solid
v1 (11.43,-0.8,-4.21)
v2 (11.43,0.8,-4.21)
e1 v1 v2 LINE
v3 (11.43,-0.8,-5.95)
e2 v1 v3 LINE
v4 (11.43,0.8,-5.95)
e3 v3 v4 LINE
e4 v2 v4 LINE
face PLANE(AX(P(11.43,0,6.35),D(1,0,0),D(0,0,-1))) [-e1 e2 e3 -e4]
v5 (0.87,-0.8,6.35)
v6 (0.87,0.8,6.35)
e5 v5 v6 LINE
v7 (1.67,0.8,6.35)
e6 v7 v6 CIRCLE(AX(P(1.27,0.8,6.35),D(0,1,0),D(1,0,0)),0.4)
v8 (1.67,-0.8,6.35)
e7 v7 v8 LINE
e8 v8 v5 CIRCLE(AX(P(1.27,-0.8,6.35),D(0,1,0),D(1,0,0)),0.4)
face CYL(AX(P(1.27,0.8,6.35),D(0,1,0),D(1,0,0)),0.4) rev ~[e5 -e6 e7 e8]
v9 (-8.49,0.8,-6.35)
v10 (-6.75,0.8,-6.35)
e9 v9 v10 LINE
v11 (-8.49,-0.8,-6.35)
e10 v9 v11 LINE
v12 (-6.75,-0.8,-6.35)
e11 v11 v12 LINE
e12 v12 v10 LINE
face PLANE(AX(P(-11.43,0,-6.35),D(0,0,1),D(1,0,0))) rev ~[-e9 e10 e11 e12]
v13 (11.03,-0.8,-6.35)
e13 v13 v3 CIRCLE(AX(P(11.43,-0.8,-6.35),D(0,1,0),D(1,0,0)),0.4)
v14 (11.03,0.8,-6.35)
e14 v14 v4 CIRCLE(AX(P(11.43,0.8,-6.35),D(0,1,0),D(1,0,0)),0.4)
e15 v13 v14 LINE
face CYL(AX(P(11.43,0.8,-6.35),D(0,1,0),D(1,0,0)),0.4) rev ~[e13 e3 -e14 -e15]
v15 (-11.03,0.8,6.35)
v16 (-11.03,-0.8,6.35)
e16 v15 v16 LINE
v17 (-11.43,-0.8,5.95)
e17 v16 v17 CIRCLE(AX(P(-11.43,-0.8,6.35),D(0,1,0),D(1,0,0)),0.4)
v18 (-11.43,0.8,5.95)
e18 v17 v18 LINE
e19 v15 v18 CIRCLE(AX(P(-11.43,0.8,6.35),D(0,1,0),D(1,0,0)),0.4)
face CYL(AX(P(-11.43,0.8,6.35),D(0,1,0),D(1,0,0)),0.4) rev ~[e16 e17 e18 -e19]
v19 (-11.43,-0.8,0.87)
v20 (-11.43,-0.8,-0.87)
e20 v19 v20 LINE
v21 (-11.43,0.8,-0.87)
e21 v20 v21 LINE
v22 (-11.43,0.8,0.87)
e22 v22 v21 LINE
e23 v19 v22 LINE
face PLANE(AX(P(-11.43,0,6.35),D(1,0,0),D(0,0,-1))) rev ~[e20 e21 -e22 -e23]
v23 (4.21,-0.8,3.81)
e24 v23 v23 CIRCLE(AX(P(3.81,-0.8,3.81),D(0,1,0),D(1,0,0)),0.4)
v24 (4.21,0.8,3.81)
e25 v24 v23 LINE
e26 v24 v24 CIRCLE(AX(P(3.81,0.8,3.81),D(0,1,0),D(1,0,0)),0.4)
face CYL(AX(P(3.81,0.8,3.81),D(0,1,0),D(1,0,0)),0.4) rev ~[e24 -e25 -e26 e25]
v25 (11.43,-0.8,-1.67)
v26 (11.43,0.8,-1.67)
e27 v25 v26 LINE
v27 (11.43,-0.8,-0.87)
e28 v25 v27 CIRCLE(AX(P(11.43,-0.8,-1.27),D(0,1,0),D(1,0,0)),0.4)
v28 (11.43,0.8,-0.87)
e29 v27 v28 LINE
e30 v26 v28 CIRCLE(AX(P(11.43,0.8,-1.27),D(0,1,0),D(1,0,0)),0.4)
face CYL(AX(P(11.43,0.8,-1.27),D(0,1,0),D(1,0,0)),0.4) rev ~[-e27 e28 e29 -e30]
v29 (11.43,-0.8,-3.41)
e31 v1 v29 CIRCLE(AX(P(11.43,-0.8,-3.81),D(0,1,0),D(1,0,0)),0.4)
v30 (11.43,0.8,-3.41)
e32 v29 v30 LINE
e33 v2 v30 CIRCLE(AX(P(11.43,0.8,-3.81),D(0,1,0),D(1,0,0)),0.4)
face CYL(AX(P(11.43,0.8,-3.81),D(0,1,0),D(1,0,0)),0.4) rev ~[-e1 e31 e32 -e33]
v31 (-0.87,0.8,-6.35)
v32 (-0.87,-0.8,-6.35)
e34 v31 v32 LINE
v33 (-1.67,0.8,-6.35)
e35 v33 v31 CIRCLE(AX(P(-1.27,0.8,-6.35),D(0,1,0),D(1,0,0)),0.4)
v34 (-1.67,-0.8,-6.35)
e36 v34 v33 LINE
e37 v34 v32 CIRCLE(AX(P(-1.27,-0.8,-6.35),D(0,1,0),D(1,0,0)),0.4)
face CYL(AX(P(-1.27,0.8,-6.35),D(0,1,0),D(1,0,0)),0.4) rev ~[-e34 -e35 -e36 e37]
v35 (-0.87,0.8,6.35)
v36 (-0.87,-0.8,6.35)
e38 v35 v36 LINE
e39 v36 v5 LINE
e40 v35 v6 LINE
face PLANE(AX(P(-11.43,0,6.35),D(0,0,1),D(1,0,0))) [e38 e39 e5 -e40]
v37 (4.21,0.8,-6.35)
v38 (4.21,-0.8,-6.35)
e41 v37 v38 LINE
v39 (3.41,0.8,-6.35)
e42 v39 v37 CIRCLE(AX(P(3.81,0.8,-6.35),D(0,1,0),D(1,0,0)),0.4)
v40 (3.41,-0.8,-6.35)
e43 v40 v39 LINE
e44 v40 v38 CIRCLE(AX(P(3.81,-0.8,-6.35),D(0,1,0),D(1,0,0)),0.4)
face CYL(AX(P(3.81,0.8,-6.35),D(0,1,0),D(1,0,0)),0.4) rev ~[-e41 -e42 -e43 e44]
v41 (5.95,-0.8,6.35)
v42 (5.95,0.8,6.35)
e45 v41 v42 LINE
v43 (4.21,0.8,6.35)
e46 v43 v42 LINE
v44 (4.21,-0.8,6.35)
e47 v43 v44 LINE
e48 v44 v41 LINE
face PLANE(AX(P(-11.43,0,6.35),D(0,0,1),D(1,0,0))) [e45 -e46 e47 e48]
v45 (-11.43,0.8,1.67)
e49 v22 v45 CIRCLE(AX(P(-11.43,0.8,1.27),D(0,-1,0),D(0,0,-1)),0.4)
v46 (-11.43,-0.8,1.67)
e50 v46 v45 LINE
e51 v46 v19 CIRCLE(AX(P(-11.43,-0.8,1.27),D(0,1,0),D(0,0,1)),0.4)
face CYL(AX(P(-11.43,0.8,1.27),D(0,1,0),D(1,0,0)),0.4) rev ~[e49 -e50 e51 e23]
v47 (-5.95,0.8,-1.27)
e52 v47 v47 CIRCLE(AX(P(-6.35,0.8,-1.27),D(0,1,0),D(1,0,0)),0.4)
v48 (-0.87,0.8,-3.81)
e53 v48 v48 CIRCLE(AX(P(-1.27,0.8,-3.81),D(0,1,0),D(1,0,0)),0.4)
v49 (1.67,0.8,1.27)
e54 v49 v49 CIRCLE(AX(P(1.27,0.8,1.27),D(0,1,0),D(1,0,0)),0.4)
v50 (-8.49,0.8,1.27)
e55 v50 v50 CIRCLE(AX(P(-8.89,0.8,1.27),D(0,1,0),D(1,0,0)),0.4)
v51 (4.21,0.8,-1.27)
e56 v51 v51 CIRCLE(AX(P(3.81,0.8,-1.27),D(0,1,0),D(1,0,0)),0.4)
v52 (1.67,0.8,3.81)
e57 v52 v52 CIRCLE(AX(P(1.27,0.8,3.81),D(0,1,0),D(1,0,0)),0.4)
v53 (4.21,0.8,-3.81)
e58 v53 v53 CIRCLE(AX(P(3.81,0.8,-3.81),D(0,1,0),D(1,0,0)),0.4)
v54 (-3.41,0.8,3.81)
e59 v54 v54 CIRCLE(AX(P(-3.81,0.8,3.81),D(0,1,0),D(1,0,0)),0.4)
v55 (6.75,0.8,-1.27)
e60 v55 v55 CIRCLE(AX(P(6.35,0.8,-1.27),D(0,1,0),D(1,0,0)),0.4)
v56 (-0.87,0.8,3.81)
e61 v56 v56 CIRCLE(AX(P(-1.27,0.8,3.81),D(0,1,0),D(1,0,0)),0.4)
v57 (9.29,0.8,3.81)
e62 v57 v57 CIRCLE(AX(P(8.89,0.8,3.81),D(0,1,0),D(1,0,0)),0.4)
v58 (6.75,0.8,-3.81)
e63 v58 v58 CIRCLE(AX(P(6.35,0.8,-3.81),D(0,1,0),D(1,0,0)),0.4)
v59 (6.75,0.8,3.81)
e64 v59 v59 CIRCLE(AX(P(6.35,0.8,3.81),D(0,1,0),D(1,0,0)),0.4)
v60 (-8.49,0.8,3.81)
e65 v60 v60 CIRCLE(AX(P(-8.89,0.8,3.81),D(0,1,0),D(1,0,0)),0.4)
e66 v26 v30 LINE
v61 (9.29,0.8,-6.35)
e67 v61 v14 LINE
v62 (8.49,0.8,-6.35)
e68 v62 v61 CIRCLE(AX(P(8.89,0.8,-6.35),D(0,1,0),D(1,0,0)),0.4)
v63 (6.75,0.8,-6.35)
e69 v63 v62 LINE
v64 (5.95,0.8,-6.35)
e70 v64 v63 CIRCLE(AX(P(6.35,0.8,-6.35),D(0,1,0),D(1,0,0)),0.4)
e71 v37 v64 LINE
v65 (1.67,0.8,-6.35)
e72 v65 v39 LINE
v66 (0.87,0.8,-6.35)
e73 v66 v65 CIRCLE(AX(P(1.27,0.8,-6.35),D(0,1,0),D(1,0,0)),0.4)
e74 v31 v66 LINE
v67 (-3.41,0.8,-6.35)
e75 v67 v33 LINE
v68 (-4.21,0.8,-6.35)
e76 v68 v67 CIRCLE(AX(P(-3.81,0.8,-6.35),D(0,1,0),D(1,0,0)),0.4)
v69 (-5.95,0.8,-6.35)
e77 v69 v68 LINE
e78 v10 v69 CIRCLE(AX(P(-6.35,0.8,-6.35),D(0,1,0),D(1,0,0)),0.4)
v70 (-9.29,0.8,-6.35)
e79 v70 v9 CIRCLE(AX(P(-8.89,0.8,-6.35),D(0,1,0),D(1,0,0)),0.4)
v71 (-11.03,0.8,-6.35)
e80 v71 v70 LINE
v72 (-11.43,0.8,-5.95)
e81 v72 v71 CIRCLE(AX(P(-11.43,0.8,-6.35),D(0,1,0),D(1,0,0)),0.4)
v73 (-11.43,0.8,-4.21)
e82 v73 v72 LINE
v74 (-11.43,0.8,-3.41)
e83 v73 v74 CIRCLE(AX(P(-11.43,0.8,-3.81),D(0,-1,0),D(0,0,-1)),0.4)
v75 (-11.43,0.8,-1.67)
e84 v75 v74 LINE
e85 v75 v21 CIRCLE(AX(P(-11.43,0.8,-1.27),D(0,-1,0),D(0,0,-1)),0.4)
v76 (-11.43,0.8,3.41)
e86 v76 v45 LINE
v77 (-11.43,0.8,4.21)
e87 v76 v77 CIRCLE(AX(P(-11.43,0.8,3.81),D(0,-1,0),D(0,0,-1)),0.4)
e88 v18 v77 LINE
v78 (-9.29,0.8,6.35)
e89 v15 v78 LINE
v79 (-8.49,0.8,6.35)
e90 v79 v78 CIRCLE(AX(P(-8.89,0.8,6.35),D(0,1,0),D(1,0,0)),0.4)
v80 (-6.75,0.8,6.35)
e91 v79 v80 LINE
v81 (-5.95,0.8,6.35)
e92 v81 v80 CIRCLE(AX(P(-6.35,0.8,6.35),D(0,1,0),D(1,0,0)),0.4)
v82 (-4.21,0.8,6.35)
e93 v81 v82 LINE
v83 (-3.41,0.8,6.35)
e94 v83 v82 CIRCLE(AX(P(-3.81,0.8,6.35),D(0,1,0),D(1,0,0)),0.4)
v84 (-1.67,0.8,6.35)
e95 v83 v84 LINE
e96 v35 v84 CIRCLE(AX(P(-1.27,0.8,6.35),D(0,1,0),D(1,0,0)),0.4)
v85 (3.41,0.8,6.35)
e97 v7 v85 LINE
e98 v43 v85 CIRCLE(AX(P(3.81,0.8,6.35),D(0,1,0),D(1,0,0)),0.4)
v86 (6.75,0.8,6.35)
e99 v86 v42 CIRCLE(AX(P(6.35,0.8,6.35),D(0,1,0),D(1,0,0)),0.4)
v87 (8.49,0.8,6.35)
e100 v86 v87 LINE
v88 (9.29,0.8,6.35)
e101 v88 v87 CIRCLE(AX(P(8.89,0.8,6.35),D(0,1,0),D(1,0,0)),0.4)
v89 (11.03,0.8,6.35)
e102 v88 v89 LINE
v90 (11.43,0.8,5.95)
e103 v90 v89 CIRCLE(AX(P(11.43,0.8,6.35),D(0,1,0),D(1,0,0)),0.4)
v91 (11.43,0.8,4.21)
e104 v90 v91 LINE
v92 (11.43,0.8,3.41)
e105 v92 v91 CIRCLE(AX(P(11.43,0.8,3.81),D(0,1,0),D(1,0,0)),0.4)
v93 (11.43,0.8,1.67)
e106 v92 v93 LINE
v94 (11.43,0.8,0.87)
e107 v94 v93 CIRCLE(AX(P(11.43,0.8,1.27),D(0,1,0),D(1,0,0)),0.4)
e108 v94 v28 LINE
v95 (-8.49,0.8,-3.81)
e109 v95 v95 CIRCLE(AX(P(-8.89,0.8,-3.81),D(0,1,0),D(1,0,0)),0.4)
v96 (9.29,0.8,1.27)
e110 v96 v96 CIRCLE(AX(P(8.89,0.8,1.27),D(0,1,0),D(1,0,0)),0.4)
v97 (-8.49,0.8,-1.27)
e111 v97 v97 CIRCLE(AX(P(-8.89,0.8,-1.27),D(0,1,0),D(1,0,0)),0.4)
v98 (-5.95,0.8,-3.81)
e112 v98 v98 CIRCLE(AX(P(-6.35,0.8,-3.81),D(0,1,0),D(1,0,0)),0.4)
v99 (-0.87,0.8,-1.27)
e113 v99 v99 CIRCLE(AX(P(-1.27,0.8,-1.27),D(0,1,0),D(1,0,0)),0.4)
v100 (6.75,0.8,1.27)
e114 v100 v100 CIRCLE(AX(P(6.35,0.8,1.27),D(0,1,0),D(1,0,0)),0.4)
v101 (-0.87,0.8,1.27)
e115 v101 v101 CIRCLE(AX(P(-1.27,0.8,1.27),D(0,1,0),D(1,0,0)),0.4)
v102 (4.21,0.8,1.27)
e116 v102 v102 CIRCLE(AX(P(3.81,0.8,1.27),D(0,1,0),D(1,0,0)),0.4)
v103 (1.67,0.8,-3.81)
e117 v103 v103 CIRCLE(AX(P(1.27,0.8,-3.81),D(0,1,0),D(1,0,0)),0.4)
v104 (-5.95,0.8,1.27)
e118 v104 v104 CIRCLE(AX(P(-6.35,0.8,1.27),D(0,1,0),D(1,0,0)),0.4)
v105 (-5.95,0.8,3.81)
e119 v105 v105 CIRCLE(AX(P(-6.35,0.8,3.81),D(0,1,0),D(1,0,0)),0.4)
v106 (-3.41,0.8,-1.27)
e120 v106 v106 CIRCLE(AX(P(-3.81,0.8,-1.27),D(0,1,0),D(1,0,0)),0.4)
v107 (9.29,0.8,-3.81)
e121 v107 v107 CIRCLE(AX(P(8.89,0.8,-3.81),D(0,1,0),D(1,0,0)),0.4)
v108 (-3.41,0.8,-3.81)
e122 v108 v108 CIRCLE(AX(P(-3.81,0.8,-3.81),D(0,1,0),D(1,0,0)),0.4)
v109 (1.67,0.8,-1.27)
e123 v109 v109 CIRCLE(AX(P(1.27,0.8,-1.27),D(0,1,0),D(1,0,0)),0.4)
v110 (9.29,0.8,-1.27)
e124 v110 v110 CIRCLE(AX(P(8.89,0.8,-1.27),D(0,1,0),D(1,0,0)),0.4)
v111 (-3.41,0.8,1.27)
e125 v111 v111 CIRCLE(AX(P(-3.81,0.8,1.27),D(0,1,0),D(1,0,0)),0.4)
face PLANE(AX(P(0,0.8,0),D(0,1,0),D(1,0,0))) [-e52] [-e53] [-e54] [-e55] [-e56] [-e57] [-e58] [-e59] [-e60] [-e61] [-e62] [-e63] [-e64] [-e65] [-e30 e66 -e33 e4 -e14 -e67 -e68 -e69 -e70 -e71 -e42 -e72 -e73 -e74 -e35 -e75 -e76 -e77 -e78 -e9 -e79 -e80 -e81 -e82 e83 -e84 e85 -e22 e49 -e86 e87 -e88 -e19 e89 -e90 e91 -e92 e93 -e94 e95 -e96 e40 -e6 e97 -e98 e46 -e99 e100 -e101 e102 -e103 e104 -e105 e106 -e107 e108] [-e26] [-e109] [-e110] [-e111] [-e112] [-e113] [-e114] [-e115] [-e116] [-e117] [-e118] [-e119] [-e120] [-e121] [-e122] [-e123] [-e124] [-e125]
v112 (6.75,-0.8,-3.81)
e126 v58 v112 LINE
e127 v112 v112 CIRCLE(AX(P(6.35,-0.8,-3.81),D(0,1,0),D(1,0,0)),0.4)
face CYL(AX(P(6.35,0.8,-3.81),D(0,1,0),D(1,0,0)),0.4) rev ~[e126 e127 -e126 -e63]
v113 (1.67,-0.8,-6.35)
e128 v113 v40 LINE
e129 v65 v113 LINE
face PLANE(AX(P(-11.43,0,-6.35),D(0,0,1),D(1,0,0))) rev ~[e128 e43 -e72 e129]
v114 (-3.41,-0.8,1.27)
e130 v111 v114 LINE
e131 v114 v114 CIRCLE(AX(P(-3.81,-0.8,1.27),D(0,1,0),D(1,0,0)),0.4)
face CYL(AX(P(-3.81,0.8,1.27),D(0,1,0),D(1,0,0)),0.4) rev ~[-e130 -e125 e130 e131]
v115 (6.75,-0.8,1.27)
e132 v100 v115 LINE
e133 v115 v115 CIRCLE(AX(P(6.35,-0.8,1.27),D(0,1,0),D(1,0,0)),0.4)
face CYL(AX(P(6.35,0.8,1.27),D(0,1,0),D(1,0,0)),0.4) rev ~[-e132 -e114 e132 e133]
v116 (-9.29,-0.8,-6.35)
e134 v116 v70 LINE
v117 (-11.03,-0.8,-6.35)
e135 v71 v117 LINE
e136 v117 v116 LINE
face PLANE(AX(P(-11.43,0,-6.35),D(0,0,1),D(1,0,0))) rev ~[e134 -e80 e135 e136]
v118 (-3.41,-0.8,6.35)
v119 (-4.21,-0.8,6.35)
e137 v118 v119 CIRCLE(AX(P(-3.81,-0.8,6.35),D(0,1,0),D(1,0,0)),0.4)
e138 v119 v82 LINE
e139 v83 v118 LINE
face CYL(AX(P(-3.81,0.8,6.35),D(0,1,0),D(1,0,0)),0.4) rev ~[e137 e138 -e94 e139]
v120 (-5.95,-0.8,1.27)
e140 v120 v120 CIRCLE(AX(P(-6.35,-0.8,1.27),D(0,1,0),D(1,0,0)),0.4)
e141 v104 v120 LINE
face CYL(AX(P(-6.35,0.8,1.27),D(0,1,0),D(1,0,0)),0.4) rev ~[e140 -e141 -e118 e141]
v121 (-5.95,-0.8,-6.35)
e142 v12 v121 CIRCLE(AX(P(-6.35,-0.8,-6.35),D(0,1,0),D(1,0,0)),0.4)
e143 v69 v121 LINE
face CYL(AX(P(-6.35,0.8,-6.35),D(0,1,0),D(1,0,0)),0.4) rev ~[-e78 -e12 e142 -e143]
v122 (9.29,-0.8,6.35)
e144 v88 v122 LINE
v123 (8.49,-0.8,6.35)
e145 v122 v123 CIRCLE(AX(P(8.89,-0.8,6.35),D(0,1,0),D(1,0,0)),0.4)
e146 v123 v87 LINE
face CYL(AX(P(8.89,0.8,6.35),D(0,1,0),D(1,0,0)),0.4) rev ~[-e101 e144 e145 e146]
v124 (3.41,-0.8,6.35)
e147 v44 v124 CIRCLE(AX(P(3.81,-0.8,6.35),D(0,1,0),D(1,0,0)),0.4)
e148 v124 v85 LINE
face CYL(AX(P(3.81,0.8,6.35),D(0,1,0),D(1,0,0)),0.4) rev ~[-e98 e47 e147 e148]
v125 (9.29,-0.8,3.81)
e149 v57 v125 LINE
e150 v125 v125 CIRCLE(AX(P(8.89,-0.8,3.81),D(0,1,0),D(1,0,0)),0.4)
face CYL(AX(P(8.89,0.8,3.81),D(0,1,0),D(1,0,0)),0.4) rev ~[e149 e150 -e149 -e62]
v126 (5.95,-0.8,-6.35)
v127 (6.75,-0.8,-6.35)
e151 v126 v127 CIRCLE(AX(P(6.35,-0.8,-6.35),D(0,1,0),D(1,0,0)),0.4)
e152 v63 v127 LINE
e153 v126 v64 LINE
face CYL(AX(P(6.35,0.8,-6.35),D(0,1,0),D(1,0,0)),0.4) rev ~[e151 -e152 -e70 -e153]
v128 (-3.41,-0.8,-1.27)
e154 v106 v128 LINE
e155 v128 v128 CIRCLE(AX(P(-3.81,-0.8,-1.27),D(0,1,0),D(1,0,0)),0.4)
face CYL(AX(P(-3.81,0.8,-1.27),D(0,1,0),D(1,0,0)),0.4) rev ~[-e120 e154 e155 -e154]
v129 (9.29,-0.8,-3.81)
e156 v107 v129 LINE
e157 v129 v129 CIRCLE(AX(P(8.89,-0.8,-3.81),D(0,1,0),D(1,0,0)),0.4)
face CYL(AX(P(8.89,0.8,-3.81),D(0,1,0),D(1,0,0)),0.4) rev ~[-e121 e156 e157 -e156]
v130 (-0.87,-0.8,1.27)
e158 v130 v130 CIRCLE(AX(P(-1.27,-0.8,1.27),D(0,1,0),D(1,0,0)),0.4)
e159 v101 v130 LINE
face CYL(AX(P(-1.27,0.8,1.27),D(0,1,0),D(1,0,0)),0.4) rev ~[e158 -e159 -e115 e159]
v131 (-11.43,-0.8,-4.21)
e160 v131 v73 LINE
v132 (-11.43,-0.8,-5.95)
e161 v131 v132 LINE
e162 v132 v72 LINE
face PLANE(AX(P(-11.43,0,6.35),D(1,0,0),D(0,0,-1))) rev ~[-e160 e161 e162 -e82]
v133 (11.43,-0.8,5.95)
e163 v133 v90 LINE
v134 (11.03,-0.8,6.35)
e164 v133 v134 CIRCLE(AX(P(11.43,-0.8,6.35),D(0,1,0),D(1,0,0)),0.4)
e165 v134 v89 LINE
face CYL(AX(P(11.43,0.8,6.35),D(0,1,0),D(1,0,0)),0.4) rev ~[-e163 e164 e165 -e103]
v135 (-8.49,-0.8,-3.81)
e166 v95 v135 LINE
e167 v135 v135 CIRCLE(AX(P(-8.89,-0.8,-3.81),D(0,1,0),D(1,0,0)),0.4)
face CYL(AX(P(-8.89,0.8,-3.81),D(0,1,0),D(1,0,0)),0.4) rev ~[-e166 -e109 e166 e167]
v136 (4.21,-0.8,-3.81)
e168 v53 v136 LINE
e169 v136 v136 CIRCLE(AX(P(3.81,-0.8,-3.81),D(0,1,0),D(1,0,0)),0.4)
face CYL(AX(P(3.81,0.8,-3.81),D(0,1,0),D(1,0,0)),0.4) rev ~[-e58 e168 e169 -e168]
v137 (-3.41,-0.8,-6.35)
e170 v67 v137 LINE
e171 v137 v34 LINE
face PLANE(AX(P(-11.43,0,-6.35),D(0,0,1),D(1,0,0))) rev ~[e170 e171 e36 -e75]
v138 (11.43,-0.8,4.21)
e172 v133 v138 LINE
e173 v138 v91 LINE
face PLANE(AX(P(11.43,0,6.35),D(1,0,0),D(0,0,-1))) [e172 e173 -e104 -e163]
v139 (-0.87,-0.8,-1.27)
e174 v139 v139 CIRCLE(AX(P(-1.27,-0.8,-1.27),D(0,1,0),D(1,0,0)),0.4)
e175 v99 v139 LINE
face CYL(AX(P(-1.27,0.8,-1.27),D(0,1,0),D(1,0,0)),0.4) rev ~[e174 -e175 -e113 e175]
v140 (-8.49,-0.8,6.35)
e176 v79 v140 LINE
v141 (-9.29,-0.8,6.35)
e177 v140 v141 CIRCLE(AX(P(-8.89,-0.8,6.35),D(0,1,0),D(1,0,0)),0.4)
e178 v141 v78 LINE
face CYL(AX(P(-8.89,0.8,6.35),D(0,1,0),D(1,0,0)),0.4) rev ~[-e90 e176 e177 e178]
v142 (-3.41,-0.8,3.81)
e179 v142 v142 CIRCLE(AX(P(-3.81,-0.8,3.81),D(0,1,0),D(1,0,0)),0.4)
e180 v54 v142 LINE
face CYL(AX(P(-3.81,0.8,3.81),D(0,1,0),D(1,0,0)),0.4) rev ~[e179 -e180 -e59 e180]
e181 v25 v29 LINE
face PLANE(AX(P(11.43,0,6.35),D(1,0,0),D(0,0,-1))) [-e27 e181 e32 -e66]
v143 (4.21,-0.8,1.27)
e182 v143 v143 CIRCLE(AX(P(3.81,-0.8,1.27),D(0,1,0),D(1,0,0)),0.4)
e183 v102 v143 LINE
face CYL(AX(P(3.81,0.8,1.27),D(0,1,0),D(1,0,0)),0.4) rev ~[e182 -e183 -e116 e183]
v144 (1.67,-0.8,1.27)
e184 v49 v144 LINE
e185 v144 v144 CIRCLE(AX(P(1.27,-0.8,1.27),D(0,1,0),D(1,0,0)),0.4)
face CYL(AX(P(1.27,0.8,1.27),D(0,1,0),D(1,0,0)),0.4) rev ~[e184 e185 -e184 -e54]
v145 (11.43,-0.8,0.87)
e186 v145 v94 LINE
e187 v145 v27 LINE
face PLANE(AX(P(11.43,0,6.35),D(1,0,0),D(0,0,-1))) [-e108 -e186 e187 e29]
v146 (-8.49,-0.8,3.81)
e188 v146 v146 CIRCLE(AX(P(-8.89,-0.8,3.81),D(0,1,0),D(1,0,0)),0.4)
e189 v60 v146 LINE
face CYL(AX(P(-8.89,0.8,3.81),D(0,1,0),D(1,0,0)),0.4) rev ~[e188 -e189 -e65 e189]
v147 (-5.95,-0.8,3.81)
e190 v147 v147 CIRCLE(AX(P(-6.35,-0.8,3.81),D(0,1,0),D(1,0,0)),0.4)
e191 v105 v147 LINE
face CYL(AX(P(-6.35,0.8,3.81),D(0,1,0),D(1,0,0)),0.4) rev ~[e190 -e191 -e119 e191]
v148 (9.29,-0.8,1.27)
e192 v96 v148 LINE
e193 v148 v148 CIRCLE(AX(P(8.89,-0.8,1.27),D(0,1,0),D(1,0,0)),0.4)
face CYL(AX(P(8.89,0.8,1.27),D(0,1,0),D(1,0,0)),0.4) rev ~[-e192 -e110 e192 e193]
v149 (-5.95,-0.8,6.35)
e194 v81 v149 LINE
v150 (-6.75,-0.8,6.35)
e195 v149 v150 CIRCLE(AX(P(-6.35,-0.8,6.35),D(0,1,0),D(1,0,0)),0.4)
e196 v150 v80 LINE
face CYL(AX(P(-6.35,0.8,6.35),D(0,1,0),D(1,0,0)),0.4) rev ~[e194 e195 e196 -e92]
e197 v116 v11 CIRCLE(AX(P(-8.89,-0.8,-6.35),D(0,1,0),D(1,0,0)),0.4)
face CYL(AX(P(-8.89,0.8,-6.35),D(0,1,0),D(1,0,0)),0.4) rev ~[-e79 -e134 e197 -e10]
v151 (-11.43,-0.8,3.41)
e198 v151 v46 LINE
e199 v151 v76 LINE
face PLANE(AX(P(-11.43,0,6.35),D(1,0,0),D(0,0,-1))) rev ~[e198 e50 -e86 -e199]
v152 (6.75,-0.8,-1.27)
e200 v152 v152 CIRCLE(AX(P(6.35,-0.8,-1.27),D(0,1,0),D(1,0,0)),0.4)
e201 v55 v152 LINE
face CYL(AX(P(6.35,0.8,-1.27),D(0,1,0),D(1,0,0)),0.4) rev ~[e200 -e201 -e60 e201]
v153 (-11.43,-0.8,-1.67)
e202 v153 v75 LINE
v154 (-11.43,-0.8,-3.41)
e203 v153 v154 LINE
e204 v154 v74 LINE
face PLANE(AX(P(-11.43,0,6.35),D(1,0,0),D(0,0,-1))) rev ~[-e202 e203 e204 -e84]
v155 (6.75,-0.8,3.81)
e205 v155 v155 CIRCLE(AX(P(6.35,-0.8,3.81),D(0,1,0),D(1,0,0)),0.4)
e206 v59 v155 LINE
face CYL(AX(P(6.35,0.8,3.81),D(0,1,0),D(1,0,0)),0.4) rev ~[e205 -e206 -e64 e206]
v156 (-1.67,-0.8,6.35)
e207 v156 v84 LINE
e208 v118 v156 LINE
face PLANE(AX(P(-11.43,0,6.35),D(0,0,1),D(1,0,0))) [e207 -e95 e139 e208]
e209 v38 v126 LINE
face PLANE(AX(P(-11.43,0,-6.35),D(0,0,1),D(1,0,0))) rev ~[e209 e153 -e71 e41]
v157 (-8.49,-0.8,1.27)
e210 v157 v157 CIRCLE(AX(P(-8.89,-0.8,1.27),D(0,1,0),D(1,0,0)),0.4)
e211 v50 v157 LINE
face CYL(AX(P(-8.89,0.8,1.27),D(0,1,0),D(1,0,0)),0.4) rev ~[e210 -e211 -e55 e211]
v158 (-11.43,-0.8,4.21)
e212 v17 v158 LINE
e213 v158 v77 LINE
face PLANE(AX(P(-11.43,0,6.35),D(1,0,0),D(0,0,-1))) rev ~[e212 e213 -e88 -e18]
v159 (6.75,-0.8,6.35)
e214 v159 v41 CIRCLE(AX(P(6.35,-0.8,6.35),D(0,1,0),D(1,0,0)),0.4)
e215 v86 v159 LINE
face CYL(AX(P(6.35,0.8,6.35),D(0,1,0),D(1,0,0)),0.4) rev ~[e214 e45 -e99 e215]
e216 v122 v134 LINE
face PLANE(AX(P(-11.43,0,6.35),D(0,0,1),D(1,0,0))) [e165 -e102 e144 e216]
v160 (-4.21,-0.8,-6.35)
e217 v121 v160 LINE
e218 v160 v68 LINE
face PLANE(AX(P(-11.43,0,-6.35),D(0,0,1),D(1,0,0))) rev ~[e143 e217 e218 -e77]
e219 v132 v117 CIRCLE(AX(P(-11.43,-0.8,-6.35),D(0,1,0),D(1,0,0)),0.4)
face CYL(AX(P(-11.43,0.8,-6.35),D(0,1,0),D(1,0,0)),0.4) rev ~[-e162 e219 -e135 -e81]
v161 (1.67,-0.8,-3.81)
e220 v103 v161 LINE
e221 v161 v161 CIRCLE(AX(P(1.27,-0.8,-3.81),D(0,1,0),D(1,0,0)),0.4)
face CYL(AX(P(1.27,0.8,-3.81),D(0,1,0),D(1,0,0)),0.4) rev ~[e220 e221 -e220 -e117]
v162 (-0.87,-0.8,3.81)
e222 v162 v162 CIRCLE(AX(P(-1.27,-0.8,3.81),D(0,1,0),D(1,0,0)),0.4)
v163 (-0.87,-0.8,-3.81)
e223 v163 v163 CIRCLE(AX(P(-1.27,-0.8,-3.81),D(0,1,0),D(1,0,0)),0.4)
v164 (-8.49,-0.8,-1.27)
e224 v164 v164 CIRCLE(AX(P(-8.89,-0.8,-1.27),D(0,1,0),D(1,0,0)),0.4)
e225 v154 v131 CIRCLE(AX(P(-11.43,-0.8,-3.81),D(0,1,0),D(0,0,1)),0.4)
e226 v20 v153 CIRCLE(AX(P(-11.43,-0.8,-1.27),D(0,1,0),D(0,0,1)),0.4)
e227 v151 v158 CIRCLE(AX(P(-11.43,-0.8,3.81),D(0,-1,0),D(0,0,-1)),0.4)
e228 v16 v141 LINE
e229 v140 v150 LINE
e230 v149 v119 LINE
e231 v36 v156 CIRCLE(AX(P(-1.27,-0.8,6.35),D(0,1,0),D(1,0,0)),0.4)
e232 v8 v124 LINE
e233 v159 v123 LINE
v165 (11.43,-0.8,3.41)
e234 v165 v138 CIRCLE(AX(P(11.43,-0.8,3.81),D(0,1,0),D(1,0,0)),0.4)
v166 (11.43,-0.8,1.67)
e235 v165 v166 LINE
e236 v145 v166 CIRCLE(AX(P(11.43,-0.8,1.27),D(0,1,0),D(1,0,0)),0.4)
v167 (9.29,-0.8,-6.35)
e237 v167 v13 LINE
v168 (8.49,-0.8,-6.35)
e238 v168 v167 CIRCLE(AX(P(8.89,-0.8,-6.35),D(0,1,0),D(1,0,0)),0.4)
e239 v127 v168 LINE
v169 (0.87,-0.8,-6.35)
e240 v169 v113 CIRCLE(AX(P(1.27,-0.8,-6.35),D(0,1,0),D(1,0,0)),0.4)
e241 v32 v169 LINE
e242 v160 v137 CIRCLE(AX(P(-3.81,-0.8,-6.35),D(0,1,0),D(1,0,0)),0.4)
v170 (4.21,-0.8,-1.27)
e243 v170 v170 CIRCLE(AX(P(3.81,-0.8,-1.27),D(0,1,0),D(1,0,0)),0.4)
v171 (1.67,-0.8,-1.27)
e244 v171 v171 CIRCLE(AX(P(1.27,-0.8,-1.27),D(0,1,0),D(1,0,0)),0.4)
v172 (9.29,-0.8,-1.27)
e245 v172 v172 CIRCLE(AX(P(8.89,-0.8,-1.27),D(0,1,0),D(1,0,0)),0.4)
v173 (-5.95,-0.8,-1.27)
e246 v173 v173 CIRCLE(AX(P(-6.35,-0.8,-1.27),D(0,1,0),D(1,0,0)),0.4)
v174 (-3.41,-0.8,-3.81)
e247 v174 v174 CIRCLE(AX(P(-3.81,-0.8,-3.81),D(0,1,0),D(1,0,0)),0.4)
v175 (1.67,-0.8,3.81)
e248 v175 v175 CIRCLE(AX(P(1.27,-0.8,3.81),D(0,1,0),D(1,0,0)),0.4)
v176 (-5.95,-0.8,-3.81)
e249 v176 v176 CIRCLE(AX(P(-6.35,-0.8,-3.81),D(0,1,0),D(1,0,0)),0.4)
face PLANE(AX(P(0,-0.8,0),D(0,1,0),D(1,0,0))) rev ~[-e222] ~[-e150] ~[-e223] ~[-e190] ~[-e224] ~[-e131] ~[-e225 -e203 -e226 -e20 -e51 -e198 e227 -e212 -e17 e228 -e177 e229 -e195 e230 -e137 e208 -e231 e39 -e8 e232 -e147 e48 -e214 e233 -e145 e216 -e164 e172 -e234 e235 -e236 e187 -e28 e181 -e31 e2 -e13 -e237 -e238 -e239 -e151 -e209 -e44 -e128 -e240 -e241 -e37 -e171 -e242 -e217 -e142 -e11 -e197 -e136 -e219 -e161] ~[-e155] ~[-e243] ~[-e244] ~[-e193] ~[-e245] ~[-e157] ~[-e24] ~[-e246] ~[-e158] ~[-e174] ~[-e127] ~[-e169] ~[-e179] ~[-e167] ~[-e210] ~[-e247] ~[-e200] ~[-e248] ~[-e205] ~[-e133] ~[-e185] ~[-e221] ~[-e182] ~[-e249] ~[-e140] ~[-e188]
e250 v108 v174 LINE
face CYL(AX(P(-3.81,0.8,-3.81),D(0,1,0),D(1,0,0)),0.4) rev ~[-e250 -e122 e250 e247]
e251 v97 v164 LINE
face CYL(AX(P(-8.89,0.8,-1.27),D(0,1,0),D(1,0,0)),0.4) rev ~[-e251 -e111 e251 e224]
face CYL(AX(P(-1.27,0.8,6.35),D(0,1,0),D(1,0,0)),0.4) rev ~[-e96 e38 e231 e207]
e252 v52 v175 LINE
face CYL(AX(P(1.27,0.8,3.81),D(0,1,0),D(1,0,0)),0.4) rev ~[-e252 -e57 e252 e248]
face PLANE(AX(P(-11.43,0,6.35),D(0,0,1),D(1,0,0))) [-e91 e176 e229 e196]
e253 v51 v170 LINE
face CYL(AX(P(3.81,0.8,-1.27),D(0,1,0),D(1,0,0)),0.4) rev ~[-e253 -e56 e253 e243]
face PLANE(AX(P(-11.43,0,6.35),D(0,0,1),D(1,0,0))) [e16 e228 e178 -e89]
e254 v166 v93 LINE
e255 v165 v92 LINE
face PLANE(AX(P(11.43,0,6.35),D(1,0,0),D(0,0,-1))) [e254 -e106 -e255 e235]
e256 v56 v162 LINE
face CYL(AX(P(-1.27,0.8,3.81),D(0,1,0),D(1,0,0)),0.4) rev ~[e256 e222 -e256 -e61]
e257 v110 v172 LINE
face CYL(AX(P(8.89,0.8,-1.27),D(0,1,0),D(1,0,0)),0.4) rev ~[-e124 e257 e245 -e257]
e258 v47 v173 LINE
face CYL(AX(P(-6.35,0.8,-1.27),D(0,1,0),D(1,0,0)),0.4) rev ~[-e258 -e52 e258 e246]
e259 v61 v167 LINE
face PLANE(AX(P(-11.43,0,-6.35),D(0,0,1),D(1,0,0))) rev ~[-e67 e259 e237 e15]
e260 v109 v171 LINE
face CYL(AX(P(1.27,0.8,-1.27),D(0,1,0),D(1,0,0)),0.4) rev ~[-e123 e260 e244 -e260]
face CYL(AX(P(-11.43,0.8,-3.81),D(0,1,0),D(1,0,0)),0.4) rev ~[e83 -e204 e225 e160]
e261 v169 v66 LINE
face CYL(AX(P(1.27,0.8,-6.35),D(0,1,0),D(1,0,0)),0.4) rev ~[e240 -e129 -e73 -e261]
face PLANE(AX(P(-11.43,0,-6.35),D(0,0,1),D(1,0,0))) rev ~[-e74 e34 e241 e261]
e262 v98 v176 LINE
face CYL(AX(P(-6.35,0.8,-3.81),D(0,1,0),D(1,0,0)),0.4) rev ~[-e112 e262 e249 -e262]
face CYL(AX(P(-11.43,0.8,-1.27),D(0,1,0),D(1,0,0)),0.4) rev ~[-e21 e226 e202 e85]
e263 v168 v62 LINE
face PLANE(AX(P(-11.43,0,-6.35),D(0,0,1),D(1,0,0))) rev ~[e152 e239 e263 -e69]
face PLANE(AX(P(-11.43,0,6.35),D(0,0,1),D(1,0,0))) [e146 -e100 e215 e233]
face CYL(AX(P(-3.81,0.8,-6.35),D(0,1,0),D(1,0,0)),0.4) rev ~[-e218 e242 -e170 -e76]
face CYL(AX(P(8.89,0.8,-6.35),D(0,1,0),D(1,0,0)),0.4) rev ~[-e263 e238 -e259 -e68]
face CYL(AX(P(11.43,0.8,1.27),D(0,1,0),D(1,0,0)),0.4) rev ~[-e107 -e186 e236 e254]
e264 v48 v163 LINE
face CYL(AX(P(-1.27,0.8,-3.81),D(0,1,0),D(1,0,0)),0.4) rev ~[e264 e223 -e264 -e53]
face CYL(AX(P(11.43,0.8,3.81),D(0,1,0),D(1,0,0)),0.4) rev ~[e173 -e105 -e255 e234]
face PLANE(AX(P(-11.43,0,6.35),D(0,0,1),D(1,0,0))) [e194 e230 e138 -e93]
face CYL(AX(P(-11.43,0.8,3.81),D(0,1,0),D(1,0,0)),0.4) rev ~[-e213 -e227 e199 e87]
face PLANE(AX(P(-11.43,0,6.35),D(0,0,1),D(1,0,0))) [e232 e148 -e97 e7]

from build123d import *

# Parameters (mm, degrees)
SKETCH2_W            = 22.86
SKETCH2_H            = 12.7
BOSS_EXTRUDE1_DEPTH  = 0.8
SKETCH3_R            = 0.4
CUT_EXTRUDE1_DEPTH   = 14.172979921
LPATTERN1_COUNT      = 10
LPATTERN1_PITCH      = 2.54
LPATTERN1_COUNT_DIR2 = 6
LPATTERN1_PITCH_DIR2 = 2.54


with BuildPart() as part:
    # Sketch2 → Boss-Extrude1 (new, symmetric)
    with BuildSketch(Plane(origin=(0, 0, 0), x_dir=(1, 0, 0), z_dir=(0, 1, 0))):
        Rectangle(SKETCH2_W, SKETCH2_H)
    extrude(amount=BOSS_EXTRUDE1_DEPTH, both=True)

    # Sketch3 → Cut-Extrude1 (cut, through all)
    with BuildSketch(Plane(origin=(0, 0.8, 0), x_dir=(1, 0, 0), z_dir=(0, 1, 0))):
        with Locations((-11.43, 6.35)):
            Circle(SKETCH3_R)
    cut_extrude1 = extrude(amount=-CUT_EXTRUDE1_DEPTH, mode=Mode.SUBTRACT)

    # LPattern1: Cut-Extrude1 10 × 6
    with Locations(*[(i * LPATTERN1_PITCH, 0, j * LPATTERN1_PITCH_DIR2) for i in range(LPATTERN1_COUNT) for j in range(LPATTERN1_COUNT_DIR2) if (i, j) != (0, 0)]):
        add(cut_extrude1, mode=Mode.SUBTRACT)


solid = part.part
